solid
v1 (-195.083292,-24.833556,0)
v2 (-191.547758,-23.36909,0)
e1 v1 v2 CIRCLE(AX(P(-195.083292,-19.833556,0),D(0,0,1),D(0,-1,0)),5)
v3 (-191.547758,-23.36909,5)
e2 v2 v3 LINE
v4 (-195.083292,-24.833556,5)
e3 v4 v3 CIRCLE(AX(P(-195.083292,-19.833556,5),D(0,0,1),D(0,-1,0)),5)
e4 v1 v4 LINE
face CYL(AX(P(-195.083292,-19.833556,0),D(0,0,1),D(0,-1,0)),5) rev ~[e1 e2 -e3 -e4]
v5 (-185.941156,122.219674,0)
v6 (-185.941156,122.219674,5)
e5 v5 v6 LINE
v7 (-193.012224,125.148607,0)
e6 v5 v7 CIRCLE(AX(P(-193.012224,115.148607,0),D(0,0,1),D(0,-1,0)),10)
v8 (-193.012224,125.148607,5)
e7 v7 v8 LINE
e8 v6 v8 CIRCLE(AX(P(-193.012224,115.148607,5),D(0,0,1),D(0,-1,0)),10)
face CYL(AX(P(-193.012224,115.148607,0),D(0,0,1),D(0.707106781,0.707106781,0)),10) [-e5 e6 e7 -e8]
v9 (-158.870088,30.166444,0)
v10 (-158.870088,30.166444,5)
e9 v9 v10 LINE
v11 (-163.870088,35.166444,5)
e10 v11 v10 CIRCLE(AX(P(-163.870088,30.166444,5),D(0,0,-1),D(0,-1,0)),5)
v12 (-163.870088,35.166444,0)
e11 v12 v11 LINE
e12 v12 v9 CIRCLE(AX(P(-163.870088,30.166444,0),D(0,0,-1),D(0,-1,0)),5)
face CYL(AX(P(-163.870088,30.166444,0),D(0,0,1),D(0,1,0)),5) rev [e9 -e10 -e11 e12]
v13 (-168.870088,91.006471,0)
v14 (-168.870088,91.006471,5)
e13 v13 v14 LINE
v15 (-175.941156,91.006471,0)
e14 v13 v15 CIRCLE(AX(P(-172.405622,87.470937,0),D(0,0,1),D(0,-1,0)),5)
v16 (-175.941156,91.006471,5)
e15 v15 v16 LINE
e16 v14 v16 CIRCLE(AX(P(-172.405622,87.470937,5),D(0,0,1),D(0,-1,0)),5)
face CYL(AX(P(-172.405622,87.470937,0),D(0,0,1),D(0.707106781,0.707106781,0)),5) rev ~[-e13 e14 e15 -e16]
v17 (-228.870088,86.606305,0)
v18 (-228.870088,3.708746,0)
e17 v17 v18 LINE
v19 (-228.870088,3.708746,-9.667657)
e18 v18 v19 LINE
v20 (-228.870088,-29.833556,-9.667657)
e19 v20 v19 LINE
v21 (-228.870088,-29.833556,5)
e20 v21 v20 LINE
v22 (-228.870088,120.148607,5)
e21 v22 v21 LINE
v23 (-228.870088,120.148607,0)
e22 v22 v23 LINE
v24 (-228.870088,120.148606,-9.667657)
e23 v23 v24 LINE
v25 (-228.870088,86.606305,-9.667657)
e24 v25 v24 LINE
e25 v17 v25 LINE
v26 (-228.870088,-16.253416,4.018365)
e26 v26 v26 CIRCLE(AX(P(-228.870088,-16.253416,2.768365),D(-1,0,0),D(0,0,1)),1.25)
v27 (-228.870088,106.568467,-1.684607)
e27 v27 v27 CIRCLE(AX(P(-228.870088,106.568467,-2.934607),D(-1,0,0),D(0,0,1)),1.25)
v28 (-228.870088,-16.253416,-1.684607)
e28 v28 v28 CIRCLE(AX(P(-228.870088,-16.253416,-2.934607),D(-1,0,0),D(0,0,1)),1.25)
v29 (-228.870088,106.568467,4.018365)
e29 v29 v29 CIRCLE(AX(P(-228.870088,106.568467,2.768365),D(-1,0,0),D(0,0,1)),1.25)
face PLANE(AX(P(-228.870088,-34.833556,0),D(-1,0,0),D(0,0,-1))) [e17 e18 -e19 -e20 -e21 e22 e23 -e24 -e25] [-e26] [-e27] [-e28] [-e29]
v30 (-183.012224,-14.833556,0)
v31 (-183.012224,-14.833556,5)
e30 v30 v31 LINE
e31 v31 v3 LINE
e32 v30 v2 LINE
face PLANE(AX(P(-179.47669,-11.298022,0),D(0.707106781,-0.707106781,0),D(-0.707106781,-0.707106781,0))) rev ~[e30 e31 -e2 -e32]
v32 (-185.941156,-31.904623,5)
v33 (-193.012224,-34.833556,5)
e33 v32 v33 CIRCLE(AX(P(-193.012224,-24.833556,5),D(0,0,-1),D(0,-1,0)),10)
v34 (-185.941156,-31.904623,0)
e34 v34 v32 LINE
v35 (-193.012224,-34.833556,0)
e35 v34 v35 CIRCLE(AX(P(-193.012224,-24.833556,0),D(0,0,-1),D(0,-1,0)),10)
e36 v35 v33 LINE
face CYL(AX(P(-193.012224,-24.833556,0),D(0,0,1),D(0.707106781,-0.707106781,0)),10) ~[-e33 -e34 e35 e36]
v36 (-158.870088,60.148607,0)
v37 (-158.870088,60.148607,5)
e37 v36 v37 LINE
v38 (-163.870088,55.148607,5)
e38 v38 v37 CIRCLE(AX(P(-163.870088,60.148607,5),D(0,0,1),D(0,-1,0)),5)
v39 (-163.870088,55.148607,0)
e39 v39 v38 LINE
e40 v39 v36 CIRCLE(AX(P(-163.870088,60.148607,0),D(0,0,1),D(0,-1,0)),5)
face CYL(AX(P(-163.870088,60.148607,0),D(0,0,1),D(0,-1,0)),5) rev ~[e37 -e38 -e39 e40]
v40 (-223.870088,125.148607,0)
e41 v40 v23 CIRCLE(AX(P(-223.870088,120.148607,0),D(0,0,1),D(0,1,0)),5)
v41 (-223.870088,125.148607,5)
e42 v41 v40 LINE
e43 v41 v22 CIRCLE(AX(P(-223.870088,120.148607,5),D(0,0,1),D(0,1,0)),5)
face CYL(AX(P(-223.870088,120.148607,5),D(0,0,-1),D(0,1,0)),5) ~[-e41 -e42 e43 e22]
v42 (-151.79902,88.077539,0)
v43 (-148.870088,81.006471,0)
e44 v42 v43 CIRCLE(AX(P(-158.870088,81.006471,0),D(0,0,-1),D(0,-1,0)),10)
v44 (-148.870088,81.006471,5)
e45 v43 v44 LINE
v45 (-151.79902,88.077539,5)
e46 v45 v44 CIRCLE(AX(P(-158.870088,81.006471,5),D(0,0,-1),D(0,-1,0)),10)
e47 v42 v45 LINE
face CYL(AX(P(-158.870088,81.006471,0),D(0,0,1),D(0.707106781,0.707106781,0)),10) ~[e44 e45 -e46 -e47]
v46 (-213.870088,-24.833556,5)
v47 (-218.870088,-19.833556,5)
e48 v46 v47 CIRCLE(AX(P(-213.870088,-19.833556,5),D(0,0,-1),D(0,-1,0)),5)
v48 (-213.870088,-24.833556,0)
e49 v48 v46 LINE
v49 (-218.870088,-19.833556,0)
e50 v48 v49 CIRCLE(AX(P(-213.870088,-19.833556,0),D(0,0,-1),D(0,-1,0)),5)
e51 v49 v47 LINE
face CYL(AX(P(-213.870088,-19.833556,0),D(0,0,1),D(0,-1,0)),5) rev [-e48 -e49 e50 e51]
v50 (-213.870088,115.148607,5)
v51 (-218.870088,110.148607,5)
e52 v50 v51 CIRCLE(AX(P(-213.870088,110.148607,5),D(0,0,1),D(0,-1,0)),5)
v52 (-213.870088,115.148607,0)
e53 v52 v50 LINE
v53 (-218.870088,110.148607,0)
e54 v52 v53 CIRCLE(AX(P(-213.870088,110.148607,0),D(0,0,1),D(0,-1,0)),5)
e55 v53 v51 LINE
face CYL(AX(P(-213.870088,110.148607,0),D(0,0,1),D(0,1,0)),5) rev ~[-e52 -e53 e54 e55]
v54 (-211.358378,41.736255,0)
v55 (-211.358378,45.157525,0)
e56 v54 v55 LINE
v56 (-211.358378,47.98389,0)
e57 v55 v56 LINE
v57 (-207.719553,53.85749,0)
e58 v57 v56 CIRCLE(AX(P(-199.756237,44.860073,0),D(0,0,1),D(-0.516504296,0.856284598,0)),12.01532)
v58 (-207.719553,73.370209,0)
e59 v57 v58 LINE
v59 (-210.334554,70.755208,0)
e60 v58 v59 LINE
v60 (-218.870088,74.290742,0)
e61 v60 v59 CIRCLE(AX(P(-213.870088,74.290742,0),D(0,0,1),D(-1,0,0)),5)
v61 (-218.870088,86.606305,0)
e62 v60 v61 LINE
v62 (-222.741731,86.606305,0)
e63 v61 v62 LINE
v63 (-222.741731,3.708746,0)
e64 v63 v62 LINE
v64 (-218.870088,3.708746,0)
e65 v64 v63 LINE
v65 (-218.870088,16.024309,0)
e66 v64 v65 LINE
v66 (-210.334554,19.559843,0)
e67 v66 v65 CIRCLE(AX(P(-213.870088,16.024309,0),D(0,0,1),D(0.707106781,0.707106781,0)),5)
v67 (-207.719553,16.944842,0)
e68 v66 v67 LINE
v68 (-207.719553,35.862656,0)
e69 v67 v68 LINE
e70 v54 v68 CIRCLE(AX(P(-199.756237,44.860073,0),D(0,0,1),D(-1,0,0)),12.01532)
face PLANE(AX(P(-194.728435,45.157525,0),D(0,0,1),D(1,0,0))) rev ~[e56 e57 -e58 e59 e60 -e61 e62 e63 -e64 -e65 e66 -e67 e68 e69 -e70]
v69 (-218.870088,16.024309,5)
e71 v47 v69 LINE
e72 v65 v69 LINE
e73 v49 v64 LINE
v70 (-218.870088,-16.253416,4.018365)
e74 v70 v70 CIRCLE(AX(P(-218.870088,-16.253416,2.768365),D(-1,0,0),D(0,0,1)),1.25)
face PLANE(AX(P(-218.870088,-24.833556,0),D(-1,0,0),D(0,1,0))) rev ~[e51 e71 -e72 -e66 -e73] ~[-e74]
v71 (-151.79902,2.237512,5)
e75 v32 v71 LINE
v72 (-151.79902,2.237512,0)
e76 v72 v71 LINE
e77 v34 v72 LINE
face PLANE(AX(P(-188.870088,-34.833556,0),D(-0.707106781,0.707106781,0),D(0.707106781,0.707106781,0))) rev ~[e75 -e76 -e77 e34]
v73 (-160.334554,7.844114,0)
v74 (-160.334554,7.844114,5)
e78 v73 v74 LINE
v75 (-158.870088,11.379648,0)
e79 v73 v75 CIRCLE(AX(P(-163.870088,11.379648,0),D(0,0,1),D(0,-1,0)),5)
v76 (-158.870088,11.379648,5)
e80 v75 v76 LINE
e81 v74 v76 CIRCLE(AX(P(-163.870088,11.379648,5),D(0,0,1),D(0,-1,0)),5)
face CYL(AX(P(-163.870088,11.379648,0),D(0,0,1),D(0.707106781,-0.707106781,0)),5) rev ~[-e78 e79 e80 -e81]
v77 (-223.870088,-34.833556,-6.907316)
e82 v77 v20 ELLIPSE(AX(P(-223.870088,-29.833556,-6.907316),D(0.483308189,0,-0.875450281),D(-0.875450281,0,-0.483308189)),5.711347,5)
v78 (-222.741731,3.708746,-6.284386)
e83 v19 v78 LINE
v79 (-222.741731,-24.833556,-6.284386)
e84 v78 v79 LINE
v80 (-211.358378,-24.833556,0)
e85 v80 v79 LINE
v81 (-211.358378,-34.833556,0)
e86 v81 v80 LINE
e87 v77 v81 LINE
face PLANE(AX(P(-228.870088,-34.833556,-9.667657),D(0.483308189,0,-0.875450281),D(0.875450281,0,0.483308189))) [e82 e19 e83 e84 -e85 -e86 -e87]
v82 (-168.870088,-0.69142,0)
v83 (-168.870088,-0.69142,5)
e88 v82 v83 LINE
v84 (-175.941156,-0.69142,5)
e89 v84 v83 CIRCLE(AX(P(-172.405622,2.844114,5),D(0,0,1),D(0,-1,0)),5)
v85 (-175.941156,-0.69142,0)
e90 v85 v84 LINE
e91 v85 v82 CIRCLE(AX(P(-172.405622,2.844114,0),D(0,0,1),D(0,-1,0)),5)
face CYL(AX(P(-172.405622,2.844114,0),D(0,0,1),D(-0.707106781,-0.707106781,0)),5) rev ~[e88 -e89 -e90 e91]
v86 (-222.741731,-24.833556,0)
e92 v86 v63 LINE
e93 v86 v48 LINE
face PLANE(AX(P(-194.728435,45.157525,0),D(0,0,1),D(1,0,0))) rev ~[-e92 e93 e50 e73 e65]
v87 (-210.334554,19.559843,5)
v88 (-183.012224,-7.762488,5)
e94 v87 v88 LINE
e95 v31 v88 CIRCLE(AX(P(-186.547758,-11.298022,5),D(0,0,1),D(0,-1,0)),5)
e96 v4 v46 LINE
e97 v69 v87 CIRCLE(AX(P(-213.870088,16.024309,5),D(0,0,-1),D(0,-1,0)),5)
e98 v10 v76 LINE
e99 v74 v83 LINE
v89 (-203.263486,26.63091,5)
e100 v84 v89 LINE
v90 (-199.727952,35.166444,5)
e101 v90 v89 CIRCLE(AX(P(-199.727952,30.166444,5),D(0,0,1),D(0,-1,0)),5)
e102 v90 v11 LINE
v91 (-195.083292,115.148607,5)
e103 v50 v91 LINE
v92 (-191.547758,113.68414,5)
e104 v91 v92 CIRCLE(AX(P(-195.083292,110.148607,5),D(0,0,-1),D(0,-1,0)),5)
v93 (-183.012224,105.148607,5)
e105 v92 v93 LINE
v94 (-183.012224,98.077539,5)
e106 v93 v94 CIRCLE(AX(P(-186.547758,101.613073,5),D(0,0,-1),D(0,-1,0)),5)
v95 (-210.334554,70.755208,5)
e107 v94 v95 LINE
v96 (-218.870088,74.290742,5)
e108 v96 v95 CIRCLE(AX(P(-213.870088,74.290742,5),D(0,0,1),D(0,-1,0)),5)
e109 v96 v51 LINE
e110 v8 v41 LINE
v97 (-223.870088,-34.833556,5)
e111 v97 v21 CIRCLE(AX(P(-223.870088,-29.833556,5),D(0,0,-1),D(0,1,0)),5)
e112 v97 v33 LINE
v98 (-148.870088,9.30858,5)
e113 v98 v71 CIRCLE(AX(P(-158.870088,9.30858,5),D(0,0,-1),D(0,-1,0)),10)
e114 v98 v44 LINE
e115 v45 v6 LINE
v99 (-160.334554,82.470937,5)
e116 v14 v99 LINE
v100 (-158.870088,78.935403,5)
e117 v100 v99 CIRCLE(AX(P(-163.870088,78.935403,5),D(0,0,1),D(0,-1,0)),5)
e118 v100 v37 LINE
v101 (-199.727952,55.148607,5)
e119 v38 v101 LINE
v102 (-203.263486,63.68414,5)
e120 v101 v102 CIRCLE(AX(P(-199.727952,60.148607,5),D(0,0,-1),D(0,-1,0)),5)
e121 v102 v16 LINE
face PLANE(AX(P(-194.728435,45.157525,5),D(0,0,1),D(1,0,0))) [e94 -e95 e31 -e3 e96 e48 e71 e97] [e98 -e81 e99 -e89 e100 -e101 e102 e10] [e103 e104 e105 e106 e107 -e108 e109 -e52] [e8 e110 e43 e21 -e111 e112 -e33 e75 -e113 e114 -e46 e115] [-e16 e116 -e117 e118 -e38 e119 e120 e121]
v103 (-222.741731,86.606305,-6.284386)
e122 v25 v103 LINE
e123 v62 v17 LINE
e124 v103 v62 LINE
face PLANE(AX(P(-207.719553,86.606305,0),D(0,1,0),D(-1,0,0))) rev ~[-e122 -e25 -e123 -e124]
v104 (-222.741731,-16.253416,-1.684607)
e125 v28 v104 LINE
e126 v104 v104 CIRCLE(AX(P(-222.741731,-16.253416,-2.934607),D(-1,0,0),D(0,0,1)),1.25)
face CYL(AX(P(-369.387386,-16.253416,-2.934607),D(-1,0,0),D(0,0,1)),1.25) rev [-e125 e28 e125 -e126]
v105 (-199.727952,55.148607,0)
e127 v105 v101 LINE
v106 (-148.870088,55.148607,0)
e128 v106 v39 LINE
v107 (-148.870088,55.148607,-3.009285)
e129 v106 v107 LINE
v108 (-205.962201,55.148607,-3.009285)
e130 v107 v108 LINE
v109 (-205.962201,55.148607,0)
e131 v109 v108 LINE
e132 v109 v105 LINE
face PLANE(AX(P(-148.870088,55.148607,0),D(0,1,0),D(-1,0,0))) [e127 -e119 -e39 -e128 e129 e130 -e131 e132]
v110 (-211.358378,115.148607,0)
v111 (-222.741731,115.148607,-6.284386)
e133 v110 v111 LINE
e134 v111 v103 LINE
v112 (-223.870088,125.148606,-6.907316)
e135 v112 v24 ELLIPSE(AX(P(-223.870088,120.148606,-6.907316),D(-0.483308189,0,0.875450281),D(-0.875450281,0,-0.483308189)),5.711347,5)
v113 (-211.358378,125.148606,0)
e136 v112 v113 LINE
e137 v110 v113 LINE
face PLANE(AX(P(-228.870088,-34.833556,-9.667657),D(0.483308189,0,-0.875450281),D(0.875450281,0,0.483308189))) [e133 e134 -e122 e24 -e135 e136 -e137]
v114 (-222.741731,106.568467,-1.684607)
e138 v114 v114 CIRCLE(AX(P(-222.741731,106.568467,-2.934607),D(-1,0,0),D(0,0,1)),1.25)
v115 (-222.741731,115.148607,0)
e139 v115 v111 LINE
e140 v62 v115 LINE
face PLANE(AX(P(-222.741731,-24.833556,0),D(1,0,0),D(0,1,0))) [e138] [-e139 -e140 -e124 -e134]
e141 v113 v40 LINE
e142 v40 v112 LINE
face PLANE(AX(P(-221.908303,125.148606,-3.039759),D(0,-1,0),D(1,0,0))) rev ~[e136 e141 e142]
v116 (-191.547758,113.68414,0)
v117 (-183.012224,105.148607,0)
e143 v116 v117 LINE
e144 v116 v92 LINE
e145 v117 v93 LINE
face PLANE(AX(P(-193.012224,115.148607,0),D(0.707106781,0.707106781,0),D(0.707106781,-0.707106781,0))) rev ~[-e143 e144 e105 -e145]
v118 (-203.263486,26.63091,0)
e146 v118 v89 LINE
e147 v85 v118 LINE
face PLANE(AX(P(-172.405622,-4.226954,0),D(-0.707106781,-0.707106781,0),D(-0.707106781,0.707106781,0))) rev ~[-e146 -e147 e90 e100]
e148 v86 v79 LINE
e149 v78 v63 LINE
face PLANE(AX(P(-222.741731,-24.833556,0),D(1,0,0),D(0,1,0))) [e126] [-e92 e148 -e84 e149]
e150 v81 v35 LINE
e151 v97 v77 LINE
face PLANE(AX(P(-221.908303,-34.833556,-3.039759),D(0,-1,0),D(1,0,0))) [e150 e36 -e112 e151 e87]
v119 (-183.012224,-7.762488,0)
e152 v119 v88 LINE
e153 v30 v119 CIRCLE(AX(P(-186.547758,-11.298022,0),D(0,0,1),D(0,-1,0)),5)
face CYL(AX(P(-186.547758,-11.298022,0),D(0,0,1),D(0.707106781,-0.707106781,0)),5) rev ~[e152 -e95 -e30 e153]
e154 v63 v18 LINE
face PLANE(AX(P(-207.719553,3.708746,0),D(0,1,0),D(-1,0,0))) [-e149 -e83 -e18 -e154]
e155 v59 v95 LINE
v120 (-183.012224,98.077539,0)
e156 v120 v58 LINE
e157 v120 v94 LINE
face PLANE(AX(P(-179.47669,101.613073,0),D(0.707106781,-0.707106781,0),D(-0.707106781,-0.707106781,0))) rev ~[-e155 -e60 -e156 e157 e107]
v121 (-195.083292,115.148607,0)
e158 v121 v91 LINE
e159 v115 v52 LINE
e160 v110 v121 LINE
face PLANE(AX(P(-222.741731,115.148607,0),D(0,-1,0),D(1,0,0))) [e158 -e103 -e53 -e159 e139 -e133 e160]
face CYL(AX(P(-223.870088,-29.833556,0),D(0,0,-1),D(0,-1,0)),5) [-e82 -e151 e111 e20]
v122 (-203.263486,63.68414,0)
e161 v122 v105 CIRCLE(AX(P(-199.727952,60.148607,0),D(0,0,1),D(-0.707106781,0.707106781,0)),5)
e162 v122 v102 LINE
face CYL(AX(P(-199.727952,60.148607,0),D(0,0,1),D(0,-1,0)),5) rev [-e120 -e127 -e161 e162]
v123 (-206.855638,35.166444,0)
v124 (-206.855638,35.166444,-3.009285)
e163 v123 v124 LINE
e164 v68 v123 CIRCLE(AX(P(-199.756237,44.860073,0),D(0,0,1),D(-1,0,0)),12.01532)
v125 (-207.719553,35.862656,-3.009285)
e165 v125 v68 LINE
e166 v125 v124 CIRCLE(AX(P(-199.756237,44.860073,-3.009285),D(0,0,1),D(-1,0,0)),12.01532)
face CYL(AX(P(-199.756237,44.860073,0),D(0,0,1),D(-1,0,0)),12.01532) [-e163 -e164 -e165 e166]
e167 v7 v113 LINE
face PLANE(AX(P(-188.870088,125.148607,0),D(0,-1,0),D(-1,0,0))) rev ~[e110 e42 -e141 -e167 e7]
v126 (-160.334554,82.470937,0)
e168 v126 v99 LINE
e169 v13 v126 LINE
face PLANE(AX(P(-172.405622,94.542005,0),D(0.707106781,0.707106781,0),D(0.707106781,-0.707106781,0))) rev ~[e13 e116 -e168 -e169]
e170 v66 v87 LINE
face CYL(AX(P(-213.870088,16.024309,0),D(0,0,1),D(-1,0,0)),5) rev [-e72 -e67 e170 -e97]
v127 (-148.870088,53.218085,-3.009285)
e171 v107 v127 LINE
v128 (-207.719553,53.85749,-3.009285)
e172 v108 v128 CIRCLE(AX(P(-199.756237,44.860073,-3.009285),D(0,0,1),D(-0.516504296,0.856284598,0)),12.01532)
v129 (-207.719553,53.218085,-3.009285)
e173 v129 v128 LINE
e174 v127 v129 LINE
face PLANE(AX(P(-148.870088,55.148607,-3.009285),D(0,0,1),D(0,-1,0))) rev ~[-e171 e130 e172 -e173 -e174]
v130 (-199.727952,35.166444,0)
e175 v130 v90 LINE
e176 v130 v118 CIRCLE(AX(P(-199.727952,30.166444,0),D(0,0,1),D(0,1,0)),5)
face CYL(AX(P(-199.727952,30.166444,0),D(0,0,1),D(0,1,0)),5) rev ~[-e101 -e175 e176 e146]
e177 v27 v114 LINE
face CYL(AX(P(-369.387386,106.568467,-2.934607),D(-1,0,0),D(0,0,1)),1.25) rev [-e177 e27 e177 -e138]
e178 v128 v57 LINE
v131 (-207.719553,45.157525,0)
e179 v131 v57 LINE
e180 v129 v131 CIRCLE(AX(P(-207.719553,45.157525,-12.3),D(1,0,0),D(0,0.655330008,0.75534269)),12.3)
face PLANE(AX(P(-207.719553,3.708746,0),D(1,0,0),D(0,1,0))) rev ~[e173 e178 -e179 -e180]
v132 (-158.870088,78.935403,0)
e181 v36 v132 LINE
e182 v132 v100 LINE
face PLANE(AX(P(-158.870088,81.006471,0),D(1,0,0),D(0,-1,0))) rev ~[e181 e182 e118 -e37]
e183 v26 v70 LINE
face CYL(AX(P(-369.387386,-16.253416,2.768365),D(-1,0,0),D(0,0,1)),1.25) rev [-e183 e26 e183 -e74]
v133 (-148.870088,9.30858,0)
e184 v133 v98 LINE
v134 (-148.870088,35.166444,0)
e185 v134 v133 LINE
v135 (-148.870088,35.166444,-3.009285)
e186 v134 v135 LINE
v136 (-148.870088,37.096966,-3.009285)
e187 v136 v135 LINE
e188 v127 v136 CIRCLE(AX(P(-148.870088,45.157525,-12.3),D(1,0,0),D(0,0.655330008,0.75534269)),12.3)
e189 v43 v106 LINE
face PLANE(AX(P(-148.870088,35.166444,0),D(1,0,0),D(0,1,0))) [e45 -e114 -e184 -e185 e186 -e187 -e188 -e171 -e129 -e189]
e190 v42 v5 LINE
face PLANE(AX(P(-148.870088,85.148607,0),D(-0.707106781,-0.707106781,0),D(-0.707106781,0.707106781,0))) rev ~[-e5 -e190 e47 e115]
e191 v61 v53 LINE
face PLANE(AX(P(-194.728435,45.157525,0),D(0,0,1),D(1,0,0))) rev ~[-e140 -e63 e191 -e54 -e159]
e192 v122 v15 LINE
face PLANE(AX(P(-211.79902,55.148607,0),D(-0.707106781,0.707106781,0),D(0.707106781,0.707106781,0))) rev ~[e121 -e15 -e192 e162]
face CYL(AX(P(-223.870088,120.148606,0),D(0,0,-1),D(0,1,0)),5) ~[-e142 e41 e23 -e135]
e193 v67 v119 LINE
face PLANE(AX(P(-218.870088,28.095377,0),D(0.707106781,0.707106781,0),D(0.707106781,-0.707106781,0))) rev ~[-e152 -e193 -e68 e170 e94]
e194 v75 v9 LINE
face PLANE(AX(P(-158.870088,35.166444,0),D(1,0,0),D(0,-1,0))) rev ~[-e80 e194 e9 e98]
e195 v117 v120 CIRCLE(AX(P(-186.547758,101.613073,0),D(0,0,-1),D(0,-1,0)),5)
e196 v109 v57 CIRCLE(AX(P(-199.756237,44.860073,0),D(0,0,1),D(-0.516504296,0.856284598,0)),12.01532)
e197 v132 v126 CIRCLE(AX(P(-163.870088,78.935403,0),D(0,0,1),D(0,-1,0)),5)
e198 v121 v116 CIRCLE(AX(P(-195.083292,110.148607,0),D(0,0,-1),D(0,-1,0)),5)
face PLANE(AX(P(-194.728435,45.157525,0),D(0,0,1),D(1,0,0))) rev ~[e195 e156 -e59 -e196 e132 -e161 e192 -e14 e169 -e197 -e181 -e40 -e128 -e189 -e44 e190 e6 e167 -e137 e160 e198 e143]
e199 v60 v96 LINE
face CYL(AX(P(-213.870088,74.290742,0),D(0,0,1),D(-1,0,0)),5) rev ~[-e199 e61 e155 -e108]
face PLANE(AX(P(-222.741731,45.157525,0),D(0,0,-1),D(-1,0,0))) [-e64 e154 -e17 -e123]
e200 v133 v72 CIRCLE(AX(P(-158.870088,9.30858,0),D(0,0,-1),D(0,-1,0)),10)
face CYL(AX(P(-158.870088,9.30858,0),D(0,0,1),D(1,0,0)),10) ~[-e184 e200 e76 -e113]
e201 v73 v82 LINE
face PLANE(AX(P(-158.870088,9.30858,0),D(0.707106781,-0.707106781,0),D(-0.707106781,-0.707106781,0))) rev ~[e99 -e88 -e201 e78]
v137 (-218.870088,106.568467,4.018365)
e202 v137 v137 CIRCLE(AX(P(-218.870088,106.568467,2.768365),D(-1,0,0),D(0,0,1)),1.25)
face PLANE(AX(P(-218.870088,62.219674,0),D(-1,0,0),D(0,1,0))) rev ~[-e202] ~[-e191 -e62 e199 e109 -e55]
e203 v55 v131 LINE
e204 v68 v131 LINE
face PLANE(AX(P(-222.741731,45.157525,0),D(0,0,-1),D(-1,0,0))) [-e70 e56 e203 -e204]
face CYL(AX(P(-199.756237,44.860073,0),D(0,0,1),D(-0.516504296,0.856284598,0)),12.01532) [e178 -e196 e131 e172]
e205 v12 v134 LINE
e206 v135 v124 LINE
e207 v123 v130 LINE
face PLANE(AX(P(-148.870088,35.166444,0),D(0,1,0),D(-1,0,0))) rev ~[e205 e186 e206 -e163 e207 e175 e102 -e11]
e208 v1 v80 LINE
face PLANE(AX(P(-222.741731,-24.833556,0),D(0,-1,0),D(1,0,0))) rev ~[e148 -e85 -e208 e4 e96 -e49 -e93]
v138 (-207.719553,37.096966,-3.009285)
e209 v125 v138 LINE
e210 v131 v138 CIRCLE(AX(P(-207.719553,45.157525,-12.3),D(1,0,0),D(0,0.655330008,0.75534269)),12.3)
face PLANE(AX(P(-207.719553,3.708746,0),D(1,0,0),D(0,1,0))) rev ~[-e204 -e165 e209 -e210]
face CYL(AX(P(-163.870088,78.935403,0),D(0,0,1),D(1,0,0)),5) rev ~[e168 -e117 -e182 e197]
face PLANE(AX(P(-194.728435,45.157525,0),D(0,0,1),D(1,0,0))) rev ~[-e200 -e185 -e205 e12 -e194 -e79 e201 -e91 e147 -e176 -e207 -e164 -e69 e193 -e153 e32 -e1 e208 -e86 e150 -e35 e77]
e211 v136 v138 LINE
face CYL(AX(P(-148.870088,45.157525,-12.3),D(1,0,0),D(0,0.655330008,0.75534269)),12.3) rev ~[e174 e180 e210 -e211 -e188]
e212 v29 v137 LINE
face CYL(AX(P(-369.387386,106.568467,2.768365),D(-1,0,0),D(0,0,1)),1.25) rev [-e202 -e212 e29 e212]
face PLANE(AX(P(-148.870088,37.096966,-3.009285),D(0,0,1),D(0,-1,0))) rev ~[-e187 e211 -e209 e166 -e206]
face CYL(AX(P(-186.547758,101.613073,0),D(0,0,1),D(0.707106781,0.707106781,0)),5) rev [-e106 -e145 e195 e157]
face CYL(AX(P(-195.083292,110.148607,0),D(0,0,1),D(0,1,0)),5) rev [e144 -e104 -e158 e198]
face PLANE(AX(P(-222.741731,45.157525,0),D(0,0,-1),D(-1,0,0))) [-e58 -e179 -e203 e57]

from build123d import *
from build123d.topology import SkipClean

# Parameters (mm, degrees)
RESSALTO_EXTRUS_O2_DEPTH   = 5
CORTE_EXTRUS_O1_DEPTH      = 5
FILETE1_R                  = 10
FILETE2_R                  = 5
ESBO_O7_W                  = 62.928932188
ESBO_O7_H                  = 19.982162149
RESSALTO_EXTRUS_O5_DEPTH   = 5
CORTE_EXTRUS_O2_DEPTH      = 66
FILETE3_R                  = 5
CORTE_EXTRUS_O5_DEPTH      = 35
RESSALTO_EXTRUS_O6_DEPTH   = 159.982162
ESBO_O12_W                 = 11.383352407
ESBO_O12_H                 = 139.982162149
CORTE_EXTRUS_O6_DEPTH      = 10
CORTE_EXTRUS_O7_DEPTH      = 10
CORTE_EXTRUS_O7_DEPTH_BACK = 146.645655307
ESBO_O14_R                 = 1.25
FILETE4_R                  = 5
ESBO_O16_W                 = 30.044355049
ESBO_O16_H                 = 82.897559044
CORTE_EXTRUS_O8_DEPTH      = 262.030945505


with BuildPart() as part:
    # Esboço1 → Ressalto-extrusão2 (new body)
    with BuildSketch(Plane.XY):
        Polygon((-148.870088073, 85.148606513), (-188.870088073, 125.148606513), (-228.870088073, 125.148606513), (-228.870088073, -34.833555636), (-188.870088073, -34.833555636), (-148.870088073, 5.166444364), align=None)
    extrude(amount=RESSALTO_EXTRUS_O2_DEPTH)

    # Esboço4 → Corte-extrusão1 (cut)
    with BuildSketch(Plane(origin=(0, 0, 0), x_dir=(-1, 0, 0), z_dir=(0, 0, -1))):
        Polygon((179.47668979, 101.613072607), (218.870088073, 62.219674325), (218.870088073, 115.148606513), (193.012223696, 115.148606513), align=None)
        Polygon((158.870088073, 55.148606513), (211.799020261, 55.148606513), (172.405621979, 94.542004796), (158.870088073, 81.00647089), align=None)
        Polygon((172.405621979, -4.226953918), (211.799020261, 35.166444364), (158.870088073, 35.166444364), (158.870088073, 9.308579988), align=None)
        Polygon((218.870088073, -24.833555636), (218.870088073, 28.095376552), (179.47668979, -11.29802173), (193.012223696, -24.833555636), align=None)
    extrude(amount=-CORTE_EXTRUS_O1_DEPTH, mode=Mode.SUBTRACT)

    # Filete1
    filete1_edges = [part.edges().sort_by_distance(p)[0] for p in [
        (-188.870088073, 125.148606513, 2.5),
        (-148.870088073, 85.148606513, 2.5),
        (-148.870088073, 5.166444364, 2.5),
        (-188.870088073, -34.833555636, 2.5),
    ]]
    fillet(filete1_edges, radius=FILETE1_R)

    # Filete2
    filete2_edges = [part.edges().sort_by_distance(p)[0] for p in [
        (-218.870088073, 115.148606513, 2.5),
        (-218.870088073, -24.833555636, 2.5),
    ]]
    fillet(filete2_edges, radius=FILETE2_R)

    # Esboço7 → Ressalto-extrusão5 (add)
    with BuildSketch(Plane(origin=(0, 0, 0), x_dir=(-1, 0, 0), z_dir=(0, 0, -1))):
        with Locations((180.334554167, 45.157525439)):
            Rectangle(ESBO_O7_W, ESBO_O7_H)
    extrude(amount=RESSALTO_EXTRUS_O5_DEPTH)

    # Esboço8 → Corte-extrusão2 (cut)
    with BuildSketch(Plane(origin=(-148.870088073, 0, 0), x_dir=(0, 0, -1), z_dir=(1, 0, 0))):
        with BuildLine():
            Line((3.009284908, 37.096966334), (3.009284908, 53.218084544))
            ThreePointArc((3.009284908, 53.218084544), (0, 45.157525439), (3.009284908, 37.096966334))
        make_face()
        with BuildLine():
            Line((5, 55.148606513), (3.009284908, 55.148606513))
            Line((3.009284908, 55.148606513), (3.009284908, 53.218084544))
            ThreePointArc((3.009284908, 53.218084544), (3.95384052, 54.192547406), (5, 55.057020375))
            Line((5, 55.057020375), (5, 55.148606513))
        make_face()
        with BuildLine():
            ThreePointArc((5, 55.057020375), (3.95384052, 54.192547406), (3.009284908, 53.218084544))
            Line((3.009284908, 53.218084544), (3.009284908, 37.096966334))
            ThreePointArc((3.009284908, 37.096966334), (3.95384052, 36.122503472), (5, 35.258030502))
            Line((5, 35.258030502), (5, 55.057020375))
        make_face()
        with BuildLine():
            ThreePointArc((5, 35.258030502), (3.95384052, 36.122503472), (3.009284908, 37.096966334))
            Line((3.009284908, 37.096966334), (3.009284908, 35.166444364))
            Line((3.009284908, 35.166444364), (5, 35.166444364))
            Line((5, 35.166444364), (5, 35.258030502))
        make_face()
    extrude(amount=-CORTE_EXTRUS_O2_DEPTH, mode=Mode.SUBTRACT)

    # Filete3
    filete3_edges = [part.edges().sort_by_distance(p)[0] for p in [
        (-218.870088073, 62.219674325, 2.5),
        (-211.799020261, 55.148606513, 2.5),
        (-211.799020261, 35.166444364, 2.5),
        (-218.870088073, 28.095376552, 2.5),
        (-193.012223696, -24.833555636, 2.5),
        (-179.47668979, -11.29802173, 2.5),
        (-172.405621979, -4.226953918, 2.5),
        (-158.870088073, 9.308579988, 2.5),
        (-158.870088073, 55.148606513, 2.5),
        (-179.47668979, 101.613072607, 2.5),
        (-193.012223696, 115.148606513, 2.5),
        (-158.870088073, 81.00647089, 2.5),
        (-172.405621979, 94.542004796, 2.5),
        (-158.870088073, 35.166444364, 2.5),
    ]]
    fillet(filete3_edges, radius=FILETE3_R)

    # Esboço9 → Corte-extrusão5 (cut)
    # profile 1 of 2: a face of its own
    with BuildSketch(Plane(origin=(0, 0, 0), x_dir=(-1, 0, 0), z_dir=(0, 0, -1))):
        with BuildLine():
            Line((148.870088073, 62.717943557), (158.870088073, 61.569782302))
            Line((158.870088073, 61.569782302), (158.870088073, 78.935403078))
            ThreePointArc((158.870088073, 78.935403078), (159.25069041, 80.84882024), (160.334554167, 82.470936984))
            Line((160.334554167, 82.470936984), (168.870088073, 91.00647089))
            ThreePointArc((168.870088073, 91.00647089), (172.405621979, 92.470936984), (175.941155885, 91.00647089))
            Line((175.941155885, 91.00647089), (203.263486355, 63.684140419))
            ThreePointArc((203.263486355, 63.684140419), (204.725855133, 60.003800568), (203.052854861, 56.414302837))
            ThreePointArc((203.052854861, 56.414302837), (204.549488944, 55.877906361), (205.962201401, 55.148606513))
            Line((205.962201401, 55.148606513), (211.799020261, 55.148606513))
            Line((211.799020261, 55.148606513), (211.799020261, 45.157525439))
            Line((211.799020261, 45.157525439), (211.799020261, 35.166444364))
            Line((211.799020261, 35.166444364), (206.85563775, 35.166444364))
            ThreePointArc((206.85563775, 35.166444364), (205.247649008, 34.173056461), (203.503772873, 33.44412344))
            ThreePointArc((203.503772873, 33.44412344), (204.724845816, 29.990215306), (203.263486355, 26.630910458))
            Line((203.263486355, 26.630910458), (175.941155885, -0.691420012))
            ThreePointArc((175.941155885, -0.691420012), (172.405621979, -2.155886106), (168.870088073, -0.691420012))
            Line((168.870088073, -0.691420012), (160.334554167, 7.844113894))
            ThreePointArc((160.334554167, 7.844113894), (159.25069041, 9.466230638), (158.870088073, 11.3796478))
            Line((158.870088073, 11.3796478), (158.870088073, 26.462519889))
            Line((158.870088073, 26.462519889), (148.870088073, 24.901543221))
            Line((148.870088073, 24.901543221), (148.870088073, 9.308579988))
            ThreePointArc((148.870088073, 9.308579988), (149.631292748, 5.481745664), (151.799020261, 2.237512176))
            Line((151.799020261, 2.237512176), (185.941155885, -31.904623448))
            ThreePointArc((185.941155885, -31.904623448), (189.185389373, -34.072350961), (193.012223696, -34.833555636))
            Line((193.012223696, -34.833555636), (228.870088073, -34.833555636))
            Line((228.870088073, -34.833555636), (228.870088073, 125.148606513))
            Line((228.870088073, 125.148606513), (193.012223696, 125.148606513))
            ThreePointArc((193.012223696, 125.148606513), (189.185389373, 124.387401839), (185.941155885, 122.219674325))
            Line((185.941155885, 122.219674325), (151.799020261, 88.077538702))
            ThreePointArc((151.799020261, 88.077538702), (149.631292748, 84.833305213), (148.870088073, 81.00647089))
            Line((148.870088073, 81.00647089), (148.870088073, 62.717943557))
        make_face()
        with BuildLine():
            ThreePointArc((195.083291508, -24.833555636), (193.169874346, -24.452953298), (191.547757602, -23.369089542))
            Line((191.547757602, -23.369089542), (183.012223696, -14.833555636))
            ThreePointArc((183.012223696, -14.833555636), (181.547757602, -11.29802173), (183.012223696, -7.762487824))
            Line((183.012223696, -7.762487824), (210.334554167, 19.559842647))
            ThreePointArc((210.334554167, 19.559842647), (215.783505235, 20.643706403), (218.870088073, 16.024308741))
            Line((218.870088073, 16.024308741), (218.870088073, -19.833555636))
            ThreePointArc((218.870088073, -19.833555636), (217.405621979, -23.369089542), (213.870088073, -24.833555636))
            Line((213.870088073, -24.833555636), (195.083291508, -24.833555636))
        make_face(mode=Mode.SUBTRACT)
        with BuildLine():
            ThreePointArc((218.870088073, 74.290742137), (215.783505235, 69.671344475), (210.334554167, 70.755208231))
            Line((210.334554167, 70.755208231), (183.012223696, 98.077538702))
            ThreePointArc((183.012223696, 98.077538702), (181.547757602, 101.613072607), (183.012223696, 105.148606513))
            Line((183.012223696, 105.148606513), (191.547757602, 113.684140419))
            ThreePointArc((191.547757602, 113.684140419), (193.169874346, 114.768004176), (195.083291508, 115.148606513))
            Line((195.083291508, 115.148606513), (213.870088073, 115.148606513))
            ThreePointArc((213.870088073, 115.148606513), (217.405621979, 113.684140419), (218.870088073, 110.148606513))
            Line((218.870088073, 110.148606513), (218.870088073, 74.290742137))
        make_face(mode=Mode.SUBTRACT)
    # profile 2 of 2: a face of its own
    with BuildSketch(Plane(origin=(0, 0, 0), x_dir=(-1, 0, 0), z_dir=(0, 0, -1))):
        with BuildLine():
            Line((211.799020261, 55.148606513), (205.962201401, 55.148606513))
            ThreePointArc((205.962201401, 55.148606513), (210.218898447, 50.767748707), (211.771557204, 44.860072713))
            ThreePointArc((211.771557204, 44.860072713), (210.472334539, 39.425629442), (206.85563775, 35.166444364))
            Line((206.85563775, 35.166444364), (211.799020261, 35.166444364))
            Line((211.799020261, 35.166444364), (211.799020261, 45.157525439))
            Line((211.799020261, 45.157525439), (211.799020261, 55.148606513))
        make_face()
    extrude(amount=CORTE_EXTRUS_O5_DEPTH, mode=Mode.SUBTRACT)

    # Esboço10 → Ressalto-extrusão6 (add, through all)
    with SkipClean():  # the faces are left unmerged after this step: merging them gives an invalid solid
        with BuildSketch(Plane.XZ.offset(34.833555636)):
            Polygon((-211.358378387, 0), (-228.870088073, 0), (-228.870088073, -9.667656613), align=None)
        extrude(amount=-RESSALTO_EXTRUS_O6_DEPTH)

    # Esboço12 → Corte-extrusão6 (cut)
    with SkipClean():  # the faces are left unmerged after this step: merging them gives an invalid solid
        with BuildSketch(Plane.XY):
            with Locations((-217.05005459, 45.157525439)):
                Rectangle(ESBO_O12_W, ESBO_O12_H)
        extrude(amount=-CORTE_EXTRUS_O6_DEPTH, mode=Mode.SUBTRACT)

    # Esboço14 → Corte-extrusão7 (cut, two sides: drawn at the far end of the back side and taken through both)
    with SkipClean():  # the faces are left unmerged after this step: merging them gives an invalid solid
        with BuildSketch(Plane(origin=(-222.741730794, 0, 0), x_dir=(0, 0, -1), z_dir=(1, 0, 0)).offset(-CORTE_EXTRUS_O7_DEPTH_BACK)):
            with Locations(Location((2.934607414, 106.56846675, 0), (0, 0, 180))):
                Circle(ESBO_O14_R)
            with Locations(Location((-2.768365458, 106.56846675, 0), (0, 0, 180))):
                Circle(ESBO_O14_R)
            with Locations(Location((-2.768365458, -16.253415872, 0), (0, 0, 180))):
                Circle(ESBO_O14_R)
            with Locations(Location((2.934607414, -16.253415872, 0), (0, 0, 180))):
                Circle(ESBO_O14_R)
        extrude(amount=CORTE_EXTRUS_O7_DEPTH + CORTE_EXTRUS_O7_DEPTH_BACK, mode=Mode.SUBTRACT)

    # Filete4
    filete4_edges = [part.edges().sort_by_distance(p)[0] for p in [
        (-228.870088073, -34.833555636, -4.833828306),
        (-228.870088073, 125.148606364, -4.833828306),
    ]]
    fillet(filete4_edges, radius=FILETE4_R)

    # Esboço16 → Corte-extrusão8 (cut, through all)
    with SkipClean():  # the faces are left unmerged after this step: merging them gives an invalid solid
        with BuildSketch(Plane(origin=(0, 0, 0), x_dir=(-1, 0, 0), z_dir=(0, 0, -1))):
            with Locations((222.741730795, 45.157525439)):
                Rectangle(ESBO_O16_W, ESBO_O16_H)
        extrude(amount=CORTE_EXTRUS_O8_DEPTH, mode=Mode.SUBTRACT)


solid = part.part
